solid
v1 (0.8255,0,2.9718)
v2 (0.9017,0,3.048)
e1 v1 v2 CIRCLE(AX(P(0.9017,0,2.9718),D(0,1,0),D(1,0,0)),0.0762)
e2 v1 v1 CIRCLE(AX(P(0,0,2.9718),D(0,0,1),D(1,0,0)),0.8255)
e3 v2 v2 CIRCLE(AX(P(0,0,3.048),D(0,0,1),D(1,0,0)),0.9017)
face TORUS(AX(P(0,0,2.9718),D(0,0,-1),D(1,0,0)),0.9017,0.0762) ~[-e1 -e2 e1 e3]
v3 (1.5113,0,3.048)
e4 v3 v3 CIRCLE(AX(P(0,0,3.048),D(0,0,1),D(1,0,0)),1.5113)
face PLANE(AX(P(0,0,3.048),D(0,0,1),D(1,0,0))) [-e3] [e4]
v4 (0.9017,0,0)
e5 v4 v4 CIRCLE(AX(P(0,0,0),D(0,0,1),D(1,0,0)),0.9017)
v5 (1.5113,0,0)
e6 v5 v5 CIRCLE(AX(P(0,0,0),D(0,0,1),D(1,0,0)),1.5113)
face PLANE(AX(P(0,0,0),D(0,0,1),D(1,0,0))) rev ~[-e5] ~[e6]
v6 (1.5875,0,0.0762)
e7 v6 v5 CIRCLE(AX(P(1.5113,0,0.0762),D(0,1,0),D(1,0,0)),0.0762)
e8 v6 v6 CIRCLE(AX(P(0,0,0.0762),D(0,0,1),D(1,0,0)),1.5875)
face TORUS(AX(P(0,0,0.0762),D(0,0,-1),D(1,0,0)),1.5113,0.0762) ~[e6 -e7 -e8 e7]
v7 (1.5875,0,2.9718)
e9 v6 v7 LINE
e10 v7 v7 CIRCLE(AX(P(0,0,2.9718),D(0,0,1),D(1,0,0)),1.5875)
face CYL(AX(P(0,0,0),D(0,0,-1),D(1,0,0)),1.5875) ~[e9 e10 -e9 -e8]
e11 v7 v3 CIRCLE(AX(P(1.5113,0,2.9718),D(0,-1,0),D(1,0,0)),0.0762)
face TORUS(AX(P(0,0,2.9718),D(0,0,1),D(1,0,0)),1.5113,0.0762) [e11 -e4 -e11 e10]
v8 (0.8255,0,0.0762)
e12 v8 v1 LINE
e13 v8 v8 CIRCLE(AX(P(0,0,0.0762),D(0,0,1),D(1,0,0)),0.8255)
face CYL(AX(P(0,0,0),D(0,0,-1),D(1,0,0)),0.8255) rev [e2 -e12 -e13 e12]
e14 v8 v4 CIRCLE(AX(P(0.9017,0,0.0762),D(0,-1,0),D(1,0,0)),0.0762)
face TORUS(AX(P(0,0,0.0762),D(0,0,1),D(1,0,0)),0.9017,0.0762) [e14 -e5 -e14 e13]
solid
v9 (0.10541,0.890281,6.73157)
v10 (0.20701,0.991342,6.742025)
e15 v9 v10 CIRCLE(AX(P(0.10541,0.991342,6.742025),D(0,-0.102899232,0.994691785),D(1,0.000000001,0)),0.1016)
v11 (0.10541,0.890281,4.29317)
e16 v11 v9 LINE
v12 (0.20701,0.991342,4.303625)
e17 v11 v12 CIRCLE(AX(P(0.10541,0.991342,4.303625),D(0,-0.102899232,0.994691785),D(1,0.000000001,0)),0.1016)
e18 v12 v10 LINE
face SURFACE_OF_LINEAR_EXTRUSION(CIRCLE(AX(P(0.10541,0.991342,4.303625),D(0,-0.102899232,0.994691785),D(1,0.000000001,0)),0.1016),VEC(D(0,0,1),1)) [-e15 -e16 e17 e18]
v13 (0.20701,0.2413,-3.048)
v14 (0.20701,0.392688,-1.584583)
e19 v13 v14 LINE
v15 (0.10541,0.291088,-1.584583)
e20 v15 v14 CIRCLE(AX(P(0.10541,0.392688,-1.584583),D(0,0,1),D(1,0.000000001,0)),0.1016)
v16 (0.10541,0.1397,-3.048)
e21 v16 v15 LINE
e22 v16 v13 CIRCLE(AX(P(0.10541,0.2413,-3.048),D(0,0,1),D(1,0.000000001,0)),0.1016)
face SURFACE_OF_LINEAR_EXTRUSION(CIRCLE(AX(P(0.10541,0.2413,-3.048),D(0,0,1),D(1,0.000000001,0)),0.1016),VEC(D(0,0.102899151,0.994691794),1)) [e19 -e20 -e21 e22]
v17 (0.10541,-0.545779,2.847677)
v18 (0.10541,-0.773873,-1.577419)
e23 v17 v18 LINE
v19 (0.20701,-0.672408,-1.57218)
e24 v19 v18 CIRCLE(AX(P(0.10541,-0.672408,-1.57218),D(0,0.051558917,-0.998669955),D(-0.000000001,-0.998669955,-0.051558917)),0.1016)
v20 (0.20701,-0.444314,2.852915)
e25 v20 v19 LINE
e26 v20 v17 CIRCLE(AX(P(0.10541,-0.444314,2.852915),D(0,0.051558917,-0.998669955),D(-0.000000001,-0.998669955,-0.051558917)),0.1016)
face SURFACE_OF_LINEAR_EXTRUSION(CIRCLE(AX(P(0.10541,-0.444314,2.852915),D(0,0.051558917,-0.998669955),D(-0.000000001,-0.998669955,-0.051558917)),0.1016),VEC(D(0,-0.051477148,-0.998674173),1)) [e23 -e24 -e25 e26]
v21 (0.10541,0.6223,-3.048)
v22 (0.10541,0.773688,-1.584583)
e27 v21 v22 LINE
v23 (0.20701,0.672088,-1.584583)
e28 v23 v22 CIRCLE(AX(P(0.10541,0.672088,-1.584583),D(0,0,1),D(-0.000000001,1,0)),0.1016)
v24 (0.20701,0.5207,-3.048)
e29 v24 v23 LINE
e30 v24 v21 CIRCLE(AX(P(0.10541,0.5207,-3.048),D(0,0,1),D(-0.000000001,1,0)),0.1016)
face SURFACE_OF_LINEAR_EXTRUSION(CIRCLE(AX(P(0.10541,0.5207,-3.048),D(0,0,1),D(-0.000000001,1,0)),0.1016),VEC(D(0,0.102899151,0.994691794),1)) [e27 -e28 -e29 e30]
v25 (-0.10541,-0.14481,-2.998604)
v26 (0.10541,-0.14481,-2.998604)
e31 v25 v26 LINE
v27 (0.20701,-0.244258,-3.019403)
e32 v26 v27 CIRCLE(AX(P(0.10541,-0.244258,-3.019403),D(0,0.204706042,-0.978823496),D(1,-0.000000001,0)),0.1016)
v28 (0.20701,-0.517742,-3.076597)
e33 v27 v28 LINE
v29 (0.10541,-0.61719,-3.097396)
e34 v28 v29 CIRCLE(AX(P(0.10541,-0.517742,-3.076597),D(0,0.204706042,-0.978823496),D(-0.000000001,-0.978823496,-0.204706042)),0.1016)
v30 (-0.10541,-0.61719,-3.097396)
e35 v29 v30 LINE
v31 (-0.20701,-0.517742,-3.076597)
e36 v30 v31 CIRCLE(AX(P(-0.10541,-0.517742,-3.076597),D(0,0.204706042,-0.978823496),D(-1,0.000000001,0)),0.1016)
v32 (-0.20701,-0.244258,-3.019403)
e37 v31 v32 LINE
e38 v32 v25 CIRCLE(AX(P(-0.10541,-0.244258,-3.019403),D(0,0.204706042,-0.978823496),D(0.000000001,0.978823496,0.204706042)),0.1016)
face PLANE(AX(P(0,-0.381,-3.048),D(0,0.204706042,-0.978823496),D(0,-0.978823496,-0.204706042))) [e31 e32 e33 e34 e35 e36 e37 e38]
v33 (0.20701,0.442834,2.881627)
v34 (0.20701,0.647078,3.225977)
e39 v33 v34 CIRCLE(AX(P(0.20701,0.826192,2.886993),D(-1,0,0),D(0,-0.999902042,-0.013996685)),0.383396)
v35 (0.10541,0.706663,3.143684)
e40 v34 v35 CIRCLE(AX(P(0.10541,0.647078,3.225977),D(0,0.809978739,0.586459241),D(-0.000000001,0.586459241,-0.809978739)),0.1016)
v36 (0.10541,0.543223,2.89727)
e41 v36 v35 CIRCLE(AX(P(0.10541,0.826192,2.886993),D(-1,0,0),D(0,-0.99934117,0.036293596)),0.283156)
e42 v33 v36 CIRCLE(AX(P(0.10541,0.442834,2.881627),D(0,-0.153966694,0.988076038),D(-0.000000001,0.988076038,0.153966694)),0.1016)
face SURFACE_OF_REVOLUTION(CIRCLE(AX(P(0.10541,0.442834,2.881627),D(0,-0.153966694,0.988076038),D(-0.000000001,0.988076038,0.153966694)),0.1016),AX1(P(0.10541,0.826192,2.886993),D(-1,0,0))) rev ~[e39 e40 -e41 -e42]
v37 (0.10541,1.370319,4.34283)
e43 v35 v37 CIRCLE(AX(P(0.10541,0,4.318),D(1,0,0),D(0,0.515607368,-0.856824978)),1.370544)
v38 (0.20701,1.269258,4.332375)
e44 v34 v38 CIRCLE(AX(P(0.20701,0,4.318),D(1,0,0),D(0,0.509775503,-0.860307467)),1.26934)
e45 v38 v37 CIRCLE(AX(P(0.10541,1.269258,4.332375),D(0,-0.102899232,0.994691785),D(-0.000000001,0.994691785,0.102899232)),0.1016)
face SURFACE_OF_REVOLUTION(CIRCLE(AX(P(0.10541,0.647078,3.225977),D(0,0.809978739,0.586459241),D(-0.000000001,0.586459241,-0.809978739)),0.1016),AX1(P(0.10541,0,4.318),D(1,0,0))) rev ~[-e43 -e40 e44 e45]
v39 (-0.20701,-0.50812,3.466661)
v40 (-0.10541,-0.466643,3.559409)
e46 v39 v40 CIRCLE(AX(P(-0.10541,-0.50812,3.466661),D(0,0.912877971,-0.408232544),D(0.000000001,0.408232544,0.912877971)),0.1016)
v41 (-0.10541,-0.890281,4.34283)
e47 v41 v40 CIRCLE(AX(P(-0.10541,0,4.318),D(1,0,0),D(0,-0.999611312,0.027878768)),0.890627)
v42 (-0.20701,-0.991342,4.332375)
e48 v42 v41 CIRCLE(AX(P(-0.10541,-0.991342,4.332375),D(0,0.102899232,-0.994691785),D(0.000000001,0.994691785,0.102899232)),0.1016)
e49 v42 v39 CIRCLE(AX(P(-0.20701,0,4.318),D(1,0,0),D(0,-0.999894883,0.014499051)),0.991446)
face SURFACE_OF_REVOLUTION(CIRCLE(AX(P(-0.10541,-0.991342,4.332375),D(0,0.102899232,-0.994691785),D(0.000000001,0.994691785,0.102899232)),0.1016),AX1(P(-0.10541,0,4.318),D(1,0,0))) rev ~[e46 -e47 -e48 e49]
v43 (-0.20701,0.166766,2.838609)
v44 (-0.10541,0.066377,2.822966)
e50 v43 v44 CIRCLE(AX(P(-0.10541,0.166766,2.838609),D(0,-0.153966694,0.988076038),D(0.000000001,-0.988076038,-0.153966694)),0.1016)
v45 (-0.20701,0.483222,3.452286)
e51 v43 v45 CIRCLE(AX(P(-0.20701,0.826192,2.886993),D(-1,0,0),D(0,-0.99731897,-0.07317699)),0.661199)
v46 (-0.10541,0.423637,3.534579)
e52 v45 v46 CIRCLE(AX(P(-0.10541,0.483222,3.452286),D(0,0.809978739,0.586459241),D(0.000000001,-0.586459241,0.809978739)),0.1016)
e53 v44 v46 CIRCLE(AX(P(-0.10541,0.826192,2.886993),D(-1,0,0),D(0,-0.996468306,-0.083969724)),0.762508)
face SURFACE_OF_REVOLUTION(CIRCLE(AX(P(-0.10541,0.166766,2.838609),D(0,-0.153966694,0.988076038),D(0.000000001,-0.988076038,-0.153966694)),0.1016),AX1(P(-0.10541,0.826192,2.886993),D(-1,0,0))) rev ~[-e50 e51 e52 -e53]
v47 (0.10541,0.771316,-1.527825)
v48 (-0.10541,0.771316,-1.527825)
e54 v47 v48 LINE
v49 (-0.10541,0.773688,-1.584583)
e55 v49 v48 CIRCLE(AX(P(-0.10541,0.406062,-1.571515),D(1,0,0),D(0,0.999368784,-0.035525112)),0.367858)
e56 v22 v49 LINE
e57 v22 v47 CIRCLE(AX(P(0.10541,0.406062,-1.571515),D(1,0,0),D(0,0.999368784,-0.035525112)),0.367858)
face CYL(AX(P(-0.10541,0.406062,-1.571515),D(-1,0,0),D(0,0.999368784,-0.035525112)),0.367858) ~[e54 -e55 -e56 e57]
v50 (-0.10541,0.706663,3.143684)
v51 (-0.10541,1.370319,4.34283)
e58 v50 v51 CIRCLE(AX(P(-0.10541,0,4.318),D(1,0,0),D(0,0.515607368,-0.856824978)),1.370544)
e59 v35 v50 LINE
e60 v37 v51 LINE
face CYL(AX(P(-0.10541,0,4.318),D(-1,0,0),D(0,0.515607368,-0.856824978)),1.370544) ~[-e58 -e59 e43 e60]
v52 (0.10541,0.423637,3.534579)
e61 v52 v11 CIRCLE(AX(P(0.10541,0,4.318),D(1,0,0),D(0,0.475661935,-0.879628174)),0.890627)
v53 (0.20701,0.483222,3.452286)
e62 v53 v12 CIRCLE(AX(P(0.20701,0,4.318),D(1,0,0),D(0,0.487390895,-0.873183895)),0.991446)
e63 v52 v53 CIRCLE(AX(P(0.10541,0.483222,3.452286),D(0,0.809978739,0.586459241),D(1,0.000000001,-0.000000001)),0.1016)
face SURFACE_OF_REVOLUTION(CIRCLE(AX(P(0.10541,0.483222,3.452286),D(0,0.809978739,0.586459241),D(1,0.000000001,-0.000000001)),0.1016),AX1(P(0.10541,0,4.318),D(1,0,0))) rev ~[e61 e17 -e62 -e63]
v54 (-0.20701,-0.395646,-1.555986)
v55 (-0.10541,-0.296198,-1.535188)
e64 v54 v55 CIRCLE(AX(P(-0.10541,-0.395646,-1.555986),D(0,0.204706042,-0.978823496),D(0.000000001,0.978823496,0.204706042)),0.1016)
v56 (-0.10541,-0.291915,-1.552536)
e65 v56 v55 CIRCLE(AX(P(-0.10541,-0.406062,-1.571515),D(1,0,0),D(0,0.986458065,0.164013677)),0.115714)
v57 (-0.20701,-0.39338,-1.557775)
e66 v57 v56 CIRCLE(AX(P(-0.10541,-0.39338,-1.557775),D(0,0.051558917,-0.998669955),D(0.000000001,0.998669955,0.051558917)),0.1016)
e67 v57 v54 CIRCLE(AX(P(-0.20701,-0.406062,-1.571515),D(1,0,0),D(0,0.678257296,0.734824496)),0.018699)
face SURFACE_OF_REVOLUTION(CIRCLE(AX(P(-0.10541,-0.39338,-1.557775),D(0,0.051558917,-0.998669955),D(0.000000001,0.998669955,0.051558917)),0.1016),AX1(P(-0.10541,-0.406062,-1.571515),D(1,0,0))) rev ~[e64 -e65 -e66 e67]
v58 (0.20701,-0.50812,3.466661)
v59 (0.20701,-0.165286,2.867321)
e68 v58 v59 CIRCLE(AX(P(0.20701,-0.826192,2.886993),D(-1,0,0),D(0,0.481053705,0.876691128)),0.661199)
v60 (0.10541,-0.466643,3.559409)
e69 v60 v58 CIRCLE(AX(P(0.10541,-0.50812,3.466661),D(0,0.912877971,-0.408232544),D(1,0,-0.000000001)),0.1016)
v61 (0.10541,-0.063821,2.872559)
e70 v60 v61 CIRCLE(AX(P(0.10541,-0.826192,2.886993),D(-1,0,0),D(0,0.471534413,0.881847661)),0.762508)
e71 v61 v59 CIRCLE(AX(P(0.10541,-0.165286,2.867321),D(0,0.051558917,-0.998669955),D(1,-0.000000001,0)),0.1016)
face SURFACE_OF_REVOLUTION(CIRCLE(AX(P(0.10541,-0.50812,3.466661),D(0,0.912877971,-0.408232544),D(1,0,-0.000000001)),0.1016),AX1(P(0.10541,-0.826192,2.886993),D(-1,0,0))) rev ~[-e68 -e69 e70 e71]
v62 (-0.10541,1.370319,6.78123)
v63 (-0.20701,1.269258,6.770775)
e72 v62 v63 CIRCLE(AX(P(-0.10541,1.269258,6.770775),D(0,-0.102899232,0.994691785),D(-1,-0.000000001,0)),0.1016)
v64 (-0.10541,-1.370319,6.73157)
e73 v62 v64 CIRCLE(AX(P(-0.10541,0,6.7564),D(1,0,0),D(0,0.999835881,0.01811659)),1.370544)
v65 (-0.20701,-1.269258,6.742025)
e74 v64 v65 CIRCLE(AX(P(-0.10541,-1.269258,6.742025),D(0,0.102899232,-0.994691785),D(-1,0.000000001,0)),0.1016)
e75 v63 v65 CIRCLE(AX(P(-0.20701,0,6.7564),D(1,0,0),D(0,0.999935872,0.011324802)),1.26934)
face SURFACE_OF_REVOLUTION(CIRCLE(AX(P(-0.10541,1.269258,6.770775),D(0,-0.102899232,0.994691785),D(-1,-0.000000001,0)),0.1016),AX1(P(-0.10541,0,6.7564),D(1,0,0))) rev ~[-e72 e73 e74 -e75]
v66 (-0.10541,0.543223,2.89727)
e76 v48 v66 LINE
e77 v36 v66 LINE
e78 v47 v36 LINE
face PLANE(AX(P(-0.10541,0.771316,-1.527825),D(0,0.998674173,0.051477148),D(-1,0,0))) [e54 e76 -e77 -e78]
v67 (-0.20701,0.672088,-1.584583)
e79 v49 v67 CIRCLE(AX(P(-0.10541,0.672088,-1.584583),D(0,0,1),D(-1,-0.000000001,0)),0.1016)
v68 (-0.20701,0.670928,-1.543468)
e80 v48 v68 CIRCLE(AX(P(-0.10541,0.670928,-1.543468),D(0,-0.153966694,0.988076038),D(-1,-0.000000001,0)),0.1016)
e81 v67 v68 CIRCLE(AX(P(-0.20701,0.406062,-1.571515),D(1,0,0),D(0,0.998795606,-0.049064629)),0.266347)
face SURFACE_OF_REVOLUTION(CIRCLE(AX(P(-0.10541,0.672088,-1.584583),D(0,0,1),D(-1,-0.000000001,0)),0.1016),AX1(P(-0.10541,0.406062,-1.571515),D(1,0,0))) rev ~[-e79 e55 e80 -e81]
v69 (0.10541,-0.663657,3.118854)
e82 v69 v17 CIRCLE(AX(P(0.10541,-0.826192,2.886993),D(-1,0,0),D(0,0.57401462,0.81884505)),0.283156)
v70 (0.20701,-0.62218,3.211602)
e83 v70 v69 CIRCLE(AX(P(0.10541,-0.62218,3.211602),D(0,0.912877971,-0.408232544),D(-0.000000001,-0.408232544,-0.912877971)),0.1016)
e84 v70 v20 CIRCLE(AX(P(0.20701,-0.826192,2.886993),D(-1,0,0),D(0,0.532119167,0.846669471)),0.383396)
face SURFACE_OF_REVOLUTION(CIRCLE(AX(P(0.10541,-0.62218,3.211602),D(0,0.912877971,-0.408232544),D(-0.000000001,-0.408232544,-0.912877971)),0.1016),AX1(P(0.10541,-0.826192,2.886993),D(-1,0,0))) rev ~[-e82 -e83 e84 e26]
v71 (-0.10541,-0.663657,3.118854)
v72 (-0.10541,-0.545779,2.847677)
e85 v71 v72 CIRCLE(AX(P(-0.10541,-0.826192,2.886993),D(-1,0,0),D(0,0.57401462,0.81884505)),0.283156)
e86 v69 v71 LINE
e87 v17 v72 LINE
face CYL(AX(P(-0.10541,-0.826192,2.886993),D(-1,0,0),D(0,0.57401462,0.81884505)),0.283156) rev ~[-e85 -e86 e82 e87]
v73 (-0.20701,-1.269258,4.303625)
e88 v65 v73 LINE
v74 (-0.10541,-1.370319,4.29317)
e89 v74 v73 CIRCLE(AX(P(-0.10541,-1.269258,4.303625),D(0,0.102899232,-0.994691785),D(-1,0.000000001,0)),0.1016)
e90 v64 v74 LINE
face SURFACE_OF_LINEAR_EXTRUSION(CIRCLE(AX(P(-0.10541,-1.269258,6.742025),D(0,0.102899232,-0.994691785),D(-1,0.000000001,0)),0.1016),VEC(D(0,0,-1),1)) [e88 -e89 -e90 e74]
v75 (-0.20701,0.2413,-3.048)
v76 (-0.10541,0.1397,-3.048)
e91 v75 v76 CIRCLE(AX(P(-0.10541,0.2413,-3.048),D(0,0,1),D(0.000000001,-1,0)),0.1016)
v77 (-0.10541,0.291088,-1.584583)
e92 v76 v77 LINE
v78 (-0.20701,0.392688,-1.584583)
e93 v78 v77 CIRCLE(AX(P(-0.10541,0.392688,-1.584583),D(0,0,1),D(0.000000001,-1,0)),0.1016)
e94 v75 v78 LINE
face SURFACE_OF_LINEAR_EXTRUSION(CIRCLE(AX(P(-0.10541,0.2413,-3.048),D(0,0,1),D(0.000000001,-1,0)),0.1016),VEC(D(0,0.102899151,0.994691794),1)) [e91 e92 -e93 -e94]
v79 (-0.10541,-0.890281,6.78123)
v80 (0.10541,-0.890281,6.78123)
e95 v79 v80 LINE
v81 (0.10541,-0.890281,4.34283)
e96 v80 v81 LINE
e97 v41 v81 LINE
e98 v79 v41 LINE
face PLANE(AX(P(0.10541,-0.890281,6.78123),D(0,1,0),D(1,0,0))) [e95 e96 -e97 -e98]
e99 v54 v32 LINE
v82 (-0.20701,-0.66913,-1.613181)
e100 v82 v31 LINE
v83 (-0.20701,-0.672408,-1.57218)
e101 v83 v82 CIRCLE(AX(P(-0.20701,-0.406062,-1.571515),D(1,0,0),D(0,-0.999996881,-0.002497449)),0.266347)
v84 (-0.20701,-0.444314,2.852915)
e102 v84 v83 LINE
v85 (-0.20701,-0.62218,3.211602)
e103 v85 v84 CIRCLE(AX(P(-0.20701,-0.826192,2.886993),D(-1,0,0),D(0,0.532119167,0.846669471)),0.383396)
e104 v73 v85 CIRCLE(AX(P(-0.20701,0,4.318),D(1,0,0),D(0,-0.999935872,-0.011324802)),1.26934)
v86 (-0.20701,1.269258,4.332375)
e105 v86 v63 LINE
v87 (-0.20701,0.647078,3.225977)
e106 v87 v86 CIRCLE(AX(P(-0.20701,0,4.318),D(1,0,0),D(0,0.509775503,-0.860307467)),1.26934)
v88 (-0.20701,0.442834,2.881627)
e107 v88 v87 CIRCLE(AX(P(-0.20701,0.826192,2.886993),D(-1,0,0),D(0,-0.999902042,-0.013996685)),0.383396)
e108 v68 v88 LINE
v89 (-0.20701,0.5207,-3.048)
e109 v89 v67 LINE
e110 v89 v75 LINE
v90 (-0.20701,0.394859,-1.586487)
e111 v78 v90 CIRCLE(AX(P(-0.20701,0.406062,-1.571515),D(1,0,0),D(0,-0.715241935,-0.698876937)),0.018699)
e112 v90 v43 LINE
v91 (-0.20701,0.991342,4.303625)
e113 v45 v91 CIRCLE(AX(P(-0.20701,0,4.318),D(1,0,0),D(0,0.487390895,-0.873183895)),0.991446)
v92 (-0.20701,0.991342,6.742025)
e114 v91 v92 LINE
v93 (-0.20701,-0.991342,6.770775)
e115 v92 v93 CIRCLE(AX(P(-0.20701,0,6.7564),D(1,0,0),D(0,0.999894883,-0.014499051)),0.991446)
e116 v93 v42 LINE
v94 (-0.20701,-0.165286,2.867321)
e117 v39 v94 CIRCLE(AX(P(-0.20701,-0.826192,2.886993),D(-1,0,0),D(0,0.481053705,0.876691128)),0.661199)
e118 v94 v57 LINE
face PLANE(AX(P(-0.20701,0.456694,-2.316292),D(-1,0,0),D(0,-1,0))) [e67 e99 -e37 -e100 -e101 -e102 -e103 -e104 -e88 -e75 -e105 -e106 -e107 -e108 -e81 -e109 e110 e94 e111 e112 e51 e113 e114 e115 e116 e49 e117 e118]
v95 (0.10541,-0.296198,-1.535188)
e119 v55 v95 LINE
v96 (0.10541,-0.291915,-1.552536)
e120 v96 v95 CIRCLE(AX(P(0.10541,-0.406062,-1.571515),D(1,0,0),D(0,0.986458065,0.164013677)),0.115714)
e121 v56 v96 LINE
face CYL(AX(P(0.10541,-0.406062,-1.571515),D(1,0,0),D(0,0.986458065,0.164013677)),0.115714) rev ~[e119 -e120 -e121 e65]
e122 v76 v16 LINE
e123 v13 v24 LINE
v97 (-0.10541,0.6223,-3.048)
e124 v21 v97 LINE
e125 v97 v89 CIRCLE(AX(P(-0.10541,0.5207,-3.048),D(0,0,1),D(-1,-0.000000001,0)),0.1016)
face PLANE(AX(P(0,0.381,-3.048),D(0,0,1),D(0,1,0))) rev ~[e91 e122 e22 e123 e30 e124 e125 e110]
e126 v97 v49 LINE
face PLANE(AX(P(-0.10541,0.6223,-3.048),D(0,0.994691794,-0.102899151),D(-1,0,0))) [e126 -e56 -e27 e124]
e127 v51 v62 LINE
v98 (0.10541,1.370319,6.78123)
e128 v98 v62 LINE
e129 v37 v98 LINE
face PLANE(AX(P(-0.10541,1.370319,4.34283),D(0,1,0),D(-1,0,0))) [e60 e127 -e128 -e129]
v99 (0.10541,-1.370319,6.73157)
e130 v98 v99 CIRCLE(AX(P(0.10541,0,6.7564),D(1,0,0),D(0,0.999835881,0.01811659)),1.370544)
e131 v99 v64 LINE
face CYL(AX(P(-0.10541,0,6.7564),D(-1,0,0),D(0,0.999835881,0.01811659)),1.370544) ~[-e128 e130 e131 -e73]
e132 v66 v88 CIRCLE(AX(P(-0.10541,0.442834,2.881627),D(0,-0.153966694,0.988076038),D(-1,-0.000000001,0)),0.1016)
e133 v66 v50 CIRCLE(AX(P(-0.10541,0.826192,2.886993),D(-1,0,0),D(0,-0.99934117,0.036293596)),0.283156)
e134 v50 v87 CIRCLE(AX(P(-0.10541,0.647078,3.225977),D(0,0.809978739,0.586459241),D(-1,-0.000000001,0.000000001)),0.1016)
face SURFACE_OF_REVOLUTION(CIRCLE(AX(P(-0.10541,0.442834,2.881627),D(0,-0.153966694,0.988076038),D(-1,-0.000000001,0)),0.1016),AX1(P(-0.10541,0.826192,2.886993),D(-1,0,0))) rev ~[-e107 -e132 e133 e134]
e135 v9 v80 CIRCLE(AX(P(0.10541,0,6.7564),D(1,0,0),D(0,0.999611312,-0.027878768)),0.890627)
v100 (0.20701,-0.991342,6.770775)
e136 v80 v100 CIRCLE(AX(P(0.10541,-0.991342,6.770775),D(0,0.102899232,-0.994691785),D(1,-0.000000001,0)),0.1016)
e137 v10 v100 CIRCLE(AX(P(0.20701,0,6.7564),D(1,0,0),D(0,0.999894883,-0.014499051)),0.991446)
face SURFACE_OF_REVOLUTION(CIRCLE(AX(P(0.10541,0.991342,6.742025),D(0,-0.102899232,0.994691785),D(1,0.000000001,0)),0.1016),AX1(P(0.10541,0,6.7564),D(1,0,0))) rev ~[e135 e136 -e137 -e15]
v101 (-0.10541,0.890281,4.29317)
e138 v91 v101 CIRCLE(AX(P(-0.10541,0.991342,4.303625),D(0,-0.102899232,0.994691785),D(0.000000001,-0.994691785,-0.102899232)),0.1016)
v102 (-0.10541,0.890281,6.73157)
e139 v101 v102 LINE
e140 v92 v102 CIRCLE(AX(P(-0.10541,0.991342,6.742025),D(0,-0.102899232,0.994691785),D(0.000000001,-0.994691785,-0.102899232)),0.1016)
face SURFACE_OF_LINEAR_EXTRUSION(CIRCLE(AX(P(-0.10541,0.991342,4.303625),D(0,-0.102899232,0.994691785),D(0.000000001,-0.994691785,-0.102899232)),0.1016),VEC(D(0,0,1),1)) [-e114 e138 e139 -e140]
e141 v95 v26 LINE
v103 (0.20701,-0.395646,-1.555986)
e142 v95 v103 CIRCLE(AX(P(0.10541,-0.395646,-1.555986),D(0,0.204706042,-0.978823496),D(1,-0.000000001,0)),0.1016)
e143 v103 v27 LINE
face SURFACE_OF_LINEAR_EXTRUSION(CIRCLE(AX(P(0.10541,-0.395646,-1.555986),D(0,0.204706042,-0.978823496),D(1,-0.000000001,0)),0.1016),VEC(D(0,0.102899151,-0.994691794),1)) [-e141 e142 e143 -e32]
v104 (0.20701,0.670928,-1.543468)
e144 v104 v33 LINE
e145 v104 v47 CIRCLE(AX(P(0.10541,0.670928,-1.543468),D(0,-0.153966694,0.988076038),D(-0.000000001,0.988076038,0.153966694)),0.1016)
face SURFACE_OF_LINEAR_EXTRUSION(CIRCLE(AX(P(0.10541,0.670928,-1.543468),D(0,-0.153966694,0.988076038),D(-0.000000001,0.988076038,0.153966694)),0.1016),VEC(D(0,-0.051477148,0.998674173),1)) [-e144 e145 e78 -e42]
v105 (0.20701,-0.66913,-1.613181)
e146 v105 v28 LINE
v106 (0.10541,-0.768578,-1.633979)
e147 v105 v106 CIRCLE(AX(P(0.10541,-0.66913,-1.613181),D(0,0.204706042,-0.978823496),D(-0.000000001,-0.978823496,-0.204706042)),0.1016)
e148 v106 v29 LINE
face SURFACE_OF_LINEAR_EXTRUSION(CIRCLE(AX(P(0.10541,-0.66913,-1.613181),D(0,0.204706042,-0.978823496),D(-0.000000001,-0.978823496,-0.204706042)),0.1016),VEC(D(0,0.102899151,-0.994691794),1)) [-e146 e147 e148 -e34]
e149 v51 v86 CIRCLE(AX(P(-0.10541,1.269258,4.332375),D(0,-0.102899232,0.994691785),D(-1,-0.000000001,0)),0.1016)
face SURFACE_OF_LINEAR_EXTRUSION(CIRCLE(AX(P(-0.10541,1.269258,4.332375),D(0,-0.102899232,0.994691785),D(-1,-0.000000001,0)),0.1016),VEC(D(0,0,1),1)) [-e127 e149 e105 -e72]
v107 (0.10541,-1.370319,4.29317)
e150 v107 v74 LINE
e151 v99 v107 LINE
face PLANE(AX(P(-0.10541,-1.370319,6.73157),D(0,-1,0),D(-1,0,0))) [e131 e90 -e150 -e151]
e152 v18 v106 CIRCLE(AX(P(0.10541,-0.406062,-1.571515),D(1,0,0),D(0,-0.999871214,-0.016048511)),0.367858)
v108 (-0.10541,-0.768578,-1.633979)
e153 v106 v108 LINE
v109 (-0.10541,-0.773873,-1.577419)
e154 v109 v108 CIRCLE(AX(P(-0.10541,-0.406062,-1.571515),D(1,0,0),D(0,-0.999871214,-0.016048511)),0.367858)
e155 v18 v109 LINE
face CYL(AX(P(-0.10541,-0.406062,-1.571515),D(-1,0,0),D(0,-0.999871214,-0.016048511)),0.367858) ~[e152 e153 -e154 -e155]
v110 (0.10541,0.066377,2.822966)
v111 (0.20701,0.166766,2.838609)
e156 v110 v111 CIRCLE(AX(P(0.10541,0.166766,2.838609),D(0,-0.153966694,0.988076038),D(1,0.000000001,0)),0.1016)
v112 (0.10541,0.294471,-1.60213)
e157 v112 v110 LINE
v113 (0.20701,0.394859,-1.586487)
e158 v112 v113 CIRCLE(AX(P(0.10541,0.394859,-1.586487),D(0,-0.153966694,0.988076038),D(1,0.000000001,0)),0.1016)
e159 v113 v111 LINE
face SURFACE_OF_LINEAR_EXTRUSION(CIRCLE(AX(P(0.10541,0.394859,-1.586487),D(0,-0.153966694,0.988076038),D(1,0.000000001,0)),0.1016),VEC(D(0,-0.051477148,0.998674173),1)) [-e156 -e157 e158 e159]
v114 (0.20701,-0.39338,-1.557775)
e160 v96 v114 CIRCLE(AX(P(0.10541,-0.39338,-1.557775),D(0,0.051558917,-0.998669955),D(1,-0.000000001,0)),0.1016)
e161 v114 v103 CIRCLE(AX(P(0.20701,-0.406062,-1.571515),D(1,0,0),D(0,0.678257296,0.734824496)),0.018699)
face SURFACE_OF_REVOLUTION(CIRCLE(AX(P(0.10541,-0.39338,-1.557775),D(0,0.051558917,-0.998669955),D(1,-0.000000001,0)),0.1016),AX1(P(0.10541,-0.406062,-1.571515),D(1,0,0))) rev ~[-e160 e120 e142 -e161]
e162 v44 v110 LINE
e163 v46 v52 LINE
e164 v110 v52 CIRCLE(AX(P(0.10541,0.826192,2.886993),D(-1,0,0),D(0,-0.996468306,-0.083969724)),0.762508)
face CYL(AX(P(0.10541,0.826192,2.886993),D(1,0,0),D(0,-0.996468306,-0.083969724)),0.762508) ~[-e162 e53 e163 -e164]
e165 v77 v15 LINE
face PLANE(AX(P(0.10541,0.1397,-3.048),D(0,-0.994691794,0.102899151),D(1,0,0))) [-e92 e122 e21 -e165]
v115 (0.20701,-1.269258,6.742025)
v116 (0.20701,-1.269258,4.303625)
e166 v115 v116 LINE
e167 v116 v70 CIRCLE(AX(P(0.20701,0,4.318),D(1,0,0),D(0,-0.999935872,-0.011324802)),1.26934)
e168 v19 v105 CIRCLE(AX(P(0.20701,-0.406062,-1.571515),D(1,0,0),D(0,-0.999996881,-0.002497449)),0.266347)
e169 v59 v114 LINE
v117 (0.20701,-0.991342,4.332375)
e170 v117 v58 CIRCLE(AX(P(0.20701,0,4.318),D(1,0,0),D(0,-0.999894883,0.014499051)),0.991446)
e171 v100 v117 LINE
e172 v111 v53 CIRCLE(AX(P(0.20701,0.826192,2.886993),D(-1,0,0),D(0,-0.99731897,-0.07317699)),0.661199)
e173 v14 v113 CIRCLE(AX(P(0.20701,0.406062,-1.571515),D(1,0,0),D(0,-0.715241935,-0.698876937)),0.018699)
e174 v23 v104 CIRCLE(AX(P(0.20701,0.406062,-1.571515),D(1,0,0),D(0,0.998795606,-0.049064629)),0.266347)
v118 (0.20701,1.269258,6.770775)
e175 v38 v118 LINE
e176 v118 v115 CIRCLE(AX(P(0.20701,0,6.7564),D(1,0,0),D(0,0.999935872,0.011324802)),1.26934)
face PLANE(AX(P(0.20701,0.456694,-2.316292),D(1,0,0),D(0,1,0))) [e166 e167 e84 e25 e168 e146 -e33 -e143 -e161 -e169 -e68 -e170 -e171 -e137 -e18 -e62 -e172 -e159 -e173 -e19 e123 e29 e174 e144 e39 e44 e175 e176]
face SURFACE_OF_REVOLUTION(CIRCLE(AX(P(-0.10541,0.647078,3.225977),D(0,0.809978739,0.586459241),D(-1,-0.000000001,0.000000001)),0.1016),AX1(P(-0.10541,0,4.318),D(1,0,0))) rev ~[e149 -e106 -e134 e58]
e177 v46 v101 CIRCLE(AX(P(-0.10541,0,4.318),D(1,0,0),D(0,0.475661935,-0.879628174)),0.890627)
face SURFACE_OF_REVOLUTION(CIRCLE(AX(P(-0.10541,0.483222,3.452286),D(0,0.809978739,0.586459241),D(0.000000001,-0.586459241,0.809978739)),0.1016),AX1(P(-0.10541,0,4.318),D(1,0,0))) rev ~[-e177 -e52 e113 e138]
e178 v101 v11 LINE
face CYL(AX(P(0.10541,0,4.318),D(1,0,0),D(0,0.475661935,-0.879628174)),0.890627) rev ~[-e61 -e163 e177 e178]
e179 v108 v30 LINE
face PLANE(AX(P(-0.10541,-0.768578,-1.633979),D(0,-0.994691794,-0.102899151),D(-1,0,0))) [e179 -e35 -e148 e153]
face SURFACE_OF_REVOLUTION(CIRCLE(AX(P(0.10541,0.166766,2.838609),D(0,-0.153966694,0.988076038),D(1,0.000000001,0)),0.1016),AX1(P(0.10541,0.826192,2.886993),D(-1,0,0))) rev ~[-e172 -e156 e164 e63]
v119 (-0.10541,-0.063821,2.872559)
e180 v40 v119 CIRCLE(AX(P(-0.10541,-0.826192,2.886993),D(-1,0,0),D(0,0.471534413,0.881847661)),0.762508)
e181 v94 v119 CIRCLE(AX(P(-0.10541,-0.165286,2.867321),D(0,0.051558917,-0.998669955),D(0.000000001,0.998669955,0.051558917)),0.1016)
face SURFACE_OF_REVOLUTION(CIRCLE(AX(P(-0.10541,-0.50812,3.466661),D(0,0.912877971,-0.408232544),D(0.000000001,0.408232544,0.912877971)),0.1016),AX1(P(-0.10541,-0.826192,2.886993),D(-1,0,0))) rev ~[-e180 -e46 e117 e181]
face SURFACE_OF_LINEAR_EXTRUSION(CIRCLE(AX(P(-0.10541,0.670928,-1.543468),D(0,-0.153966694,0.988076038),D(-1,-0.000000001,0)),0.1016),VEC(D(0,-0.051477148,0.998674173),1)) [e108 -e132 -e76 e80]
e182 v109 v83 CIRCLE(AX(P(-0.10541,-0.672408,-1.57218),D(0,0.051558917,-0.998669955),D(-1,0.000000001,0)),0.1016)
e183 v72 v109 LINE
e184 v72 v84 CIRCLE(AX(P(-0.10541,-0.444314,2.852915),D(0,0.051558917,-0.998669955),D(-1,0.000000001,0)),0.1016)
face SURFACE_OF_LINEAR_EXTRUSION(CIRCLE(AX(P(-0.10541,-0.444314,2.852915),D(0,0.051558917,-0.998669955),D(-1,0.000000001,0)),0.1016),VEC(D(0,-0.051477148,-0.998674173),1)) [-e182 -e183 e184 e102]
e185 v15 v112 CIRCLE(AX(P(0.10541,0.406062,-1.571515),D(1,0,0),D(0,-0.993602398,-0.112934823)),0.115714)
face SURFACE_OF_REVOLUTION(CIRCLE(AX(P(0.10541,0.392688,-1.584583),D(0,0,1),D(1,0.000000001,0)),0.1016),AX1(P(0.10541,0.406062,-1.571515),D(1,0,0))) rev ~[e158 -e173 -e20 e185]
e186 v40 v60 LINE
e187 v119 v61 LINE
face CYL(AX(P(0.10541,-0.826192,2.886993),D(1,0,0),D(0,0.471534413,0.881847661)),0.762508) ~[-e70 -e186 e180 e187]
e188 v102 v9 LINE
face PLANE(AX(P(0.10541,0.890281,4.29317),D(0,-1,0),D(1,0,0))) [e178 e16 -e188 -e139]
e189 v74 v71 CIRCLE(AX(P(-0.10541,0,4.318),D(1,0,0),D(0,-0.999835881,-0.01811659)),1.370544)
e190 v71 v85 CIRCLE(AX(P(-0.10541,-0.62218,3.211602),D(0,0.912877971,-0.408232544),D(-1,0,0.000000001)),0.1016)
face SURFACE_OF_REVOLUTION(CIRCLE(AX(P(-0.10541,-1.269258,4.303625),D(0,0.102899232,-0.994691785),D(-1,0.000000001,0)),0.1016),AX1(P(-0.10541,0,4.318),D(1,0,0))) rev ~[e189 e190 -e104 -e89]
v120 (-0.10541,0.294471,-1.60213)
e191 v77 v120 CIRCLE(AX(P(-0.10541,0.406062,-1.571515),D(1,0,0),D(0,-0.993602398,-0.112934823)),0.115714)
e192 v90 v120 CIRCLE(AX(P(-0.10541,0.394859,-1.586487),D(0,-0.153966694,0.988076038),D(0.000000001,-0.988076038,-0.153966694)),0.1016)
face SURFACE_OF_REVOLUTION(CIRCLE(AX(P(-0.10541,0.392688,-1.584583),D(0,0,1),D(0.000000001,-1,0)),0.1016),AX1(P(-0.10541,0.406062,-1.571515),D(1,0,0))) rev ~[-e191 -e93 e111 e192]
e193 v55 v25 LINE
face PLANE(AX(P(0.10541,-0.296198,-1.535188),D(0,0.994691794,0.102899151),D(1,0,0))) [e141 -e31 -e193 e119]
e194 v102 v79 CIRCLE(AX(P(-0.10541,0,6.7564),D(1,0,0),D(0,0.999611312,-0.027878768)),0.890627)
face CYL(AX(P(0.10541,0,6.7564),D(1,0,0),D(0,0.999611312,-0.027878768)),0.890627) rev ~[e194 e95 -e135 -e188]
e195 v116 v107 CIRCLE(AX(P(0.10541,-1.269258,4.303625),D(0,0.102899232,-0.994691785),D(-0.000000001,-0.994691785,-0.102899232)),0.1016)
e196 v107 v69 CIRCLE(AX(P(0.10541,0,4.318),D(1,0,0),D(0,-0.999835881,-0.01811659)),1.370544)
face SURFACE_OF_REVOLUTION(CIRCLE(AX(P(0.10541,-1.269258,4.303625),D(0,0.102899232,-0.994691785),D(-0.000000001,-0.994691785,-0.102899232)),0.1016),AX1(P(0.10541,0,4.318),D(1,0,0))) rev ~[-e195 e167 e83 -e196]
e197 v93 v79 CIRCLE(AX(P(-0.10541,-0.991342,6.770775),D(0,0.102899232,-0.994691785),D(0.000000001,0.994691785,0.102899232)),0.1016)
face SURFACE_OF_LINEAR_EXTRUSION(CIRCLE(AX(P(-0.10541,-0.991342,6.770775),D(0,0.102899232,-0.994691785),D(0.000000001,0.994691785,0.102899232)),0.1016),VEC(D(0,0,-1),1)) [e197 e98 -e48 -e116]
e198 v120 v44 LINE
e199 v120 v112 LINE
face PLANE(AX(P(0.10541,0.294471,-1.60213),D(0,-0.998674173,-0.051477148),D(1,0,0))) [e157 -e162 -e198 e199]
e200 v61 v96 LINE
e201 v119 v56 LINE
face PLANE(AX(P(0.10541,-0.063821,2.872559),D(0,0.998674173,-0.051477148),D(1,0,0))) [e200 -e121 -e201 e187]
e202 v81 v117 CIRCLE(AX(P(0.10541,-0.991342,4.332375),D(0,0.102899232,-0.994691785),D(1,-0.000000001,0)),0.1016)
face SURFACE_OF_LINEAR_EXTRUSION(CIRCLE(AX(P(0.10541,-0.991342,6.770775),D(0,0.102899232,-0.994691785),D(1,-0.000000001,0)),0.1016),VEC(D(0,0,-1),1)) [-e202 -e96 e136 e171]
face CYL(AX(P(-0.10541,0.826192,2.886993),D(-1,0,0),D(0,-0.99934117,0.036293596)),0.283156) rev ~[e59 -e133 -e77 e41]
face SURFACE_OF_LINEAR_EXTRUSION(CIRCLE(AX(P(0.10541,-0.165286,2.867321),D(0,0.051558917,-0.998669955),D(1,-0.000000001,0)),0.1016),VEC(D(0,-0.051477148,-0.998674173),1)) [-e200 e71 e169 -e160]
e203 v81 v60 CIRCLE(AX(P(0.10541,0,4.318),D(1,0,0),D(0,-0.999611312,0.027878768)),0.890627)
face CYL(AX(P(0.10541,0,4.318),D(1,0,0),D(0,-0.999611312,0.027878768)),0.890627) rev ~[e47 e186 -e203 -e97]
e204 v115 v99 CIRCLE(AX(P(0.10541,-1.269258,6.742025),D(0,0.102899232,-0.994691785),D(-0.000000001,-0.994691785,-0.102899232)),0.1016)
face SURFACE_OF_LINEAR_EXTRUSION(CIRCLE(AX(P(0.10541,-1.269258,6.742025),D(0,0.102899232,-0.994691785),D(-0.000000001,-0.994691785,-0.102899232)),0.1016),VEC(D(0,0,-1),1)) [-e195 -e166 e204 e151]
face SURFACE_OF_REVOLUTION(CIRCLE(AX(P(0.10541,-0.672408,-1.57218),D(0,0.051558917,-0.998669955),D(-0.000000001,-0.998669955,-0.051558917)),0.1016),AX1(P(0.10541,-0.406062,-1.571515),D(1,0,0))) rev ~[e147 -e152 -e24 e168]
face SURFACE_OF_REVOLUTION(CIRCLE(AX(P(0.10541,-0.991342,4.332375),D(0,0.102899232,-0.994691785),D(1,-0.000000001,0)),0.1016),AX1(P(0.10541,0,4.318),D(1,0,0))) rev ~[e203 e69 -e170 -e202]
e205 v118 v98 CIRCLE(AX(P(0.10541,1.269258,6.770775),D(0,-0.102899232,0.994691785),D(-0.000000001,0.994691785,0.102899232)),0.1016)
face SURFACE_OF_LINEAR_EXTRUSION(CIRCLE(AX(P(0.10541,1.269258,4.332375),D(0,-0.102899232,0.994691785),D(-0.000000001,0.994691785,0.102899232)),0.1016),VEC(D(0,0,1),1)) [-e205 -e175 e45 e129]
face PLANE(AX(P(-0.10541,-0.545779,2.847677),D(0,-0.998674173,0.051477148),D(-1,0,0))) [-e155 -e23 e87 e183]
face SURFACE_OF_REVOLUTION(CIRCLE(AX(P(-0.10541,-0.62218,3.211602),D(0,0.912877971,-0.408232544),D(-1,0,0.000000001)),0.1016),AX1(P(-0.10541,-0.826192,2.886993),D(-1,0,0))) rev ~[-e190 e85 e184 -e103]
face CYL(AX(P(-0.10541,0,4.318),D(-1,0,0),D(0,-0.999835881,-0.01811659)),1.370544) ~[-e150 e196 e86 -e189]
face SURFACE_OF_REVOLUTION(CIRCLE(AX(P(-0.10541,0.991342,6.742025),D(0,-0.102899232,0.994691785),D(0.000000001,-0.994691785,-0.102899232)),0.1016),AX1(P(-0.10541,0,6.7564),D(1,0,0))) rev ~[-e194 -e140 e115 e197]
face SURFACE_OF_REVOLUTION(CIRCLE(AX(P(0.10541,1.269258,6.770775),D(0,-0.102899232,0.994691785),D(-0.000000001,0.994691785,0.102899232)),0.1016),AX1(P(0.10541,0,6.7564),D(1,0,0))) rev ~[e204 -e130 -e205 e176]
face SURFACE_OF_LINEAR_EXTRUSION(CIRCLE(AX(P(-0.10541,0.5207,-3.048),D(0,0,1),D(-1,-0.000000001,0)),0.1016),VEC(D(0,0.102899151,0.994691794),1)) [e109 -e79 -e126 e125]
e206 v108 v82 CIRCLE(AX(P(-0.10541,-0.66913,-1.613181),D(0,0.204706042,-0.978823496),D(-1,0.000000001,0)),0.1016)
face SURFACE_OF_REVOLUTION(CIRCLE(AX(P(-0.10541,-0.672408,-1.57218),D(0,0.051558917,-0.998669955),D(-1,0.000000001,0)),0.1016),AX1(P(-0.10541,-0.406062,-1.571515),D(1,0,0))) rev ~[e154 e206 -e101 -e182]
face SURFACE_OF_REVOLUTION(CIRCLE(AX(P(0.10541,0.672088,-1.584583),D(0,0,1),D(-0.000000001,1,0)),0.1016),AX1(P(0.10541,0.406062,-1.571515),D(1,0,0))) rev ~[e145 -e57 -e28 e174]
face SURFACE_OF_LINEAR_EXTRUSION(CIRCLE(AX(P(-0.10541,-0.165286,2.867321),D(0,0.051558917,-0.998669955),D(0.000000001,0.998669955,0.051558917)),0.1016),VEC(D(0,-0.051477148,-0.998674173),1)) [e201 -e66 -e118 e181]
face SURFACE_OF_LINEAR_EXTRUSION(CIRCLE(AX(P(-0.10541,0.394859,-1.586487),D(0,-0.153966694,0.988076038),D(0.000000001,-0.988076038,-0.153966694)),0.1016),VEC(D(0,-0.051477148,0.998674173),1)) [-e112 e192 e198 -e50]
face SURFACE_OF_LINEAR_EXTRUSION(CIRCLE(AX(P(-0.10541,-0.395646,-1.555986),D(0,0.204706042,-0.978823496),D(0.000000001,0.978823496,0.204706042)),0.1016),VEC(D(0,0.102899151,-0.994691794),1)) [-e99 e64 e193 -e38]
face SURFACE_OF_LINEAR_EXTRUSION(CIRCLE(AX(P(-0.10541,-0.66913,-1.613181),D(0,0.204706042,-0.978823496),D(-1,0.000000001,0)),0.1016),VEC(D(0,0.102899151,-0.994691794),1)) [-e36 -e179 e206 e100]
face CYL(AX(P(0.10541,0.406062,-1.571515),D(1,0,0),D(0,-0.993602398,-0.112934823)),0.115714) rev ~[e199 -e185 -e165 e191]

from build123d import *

# Parameters (mm, degrees)
SKETCH1_R          = 1.5875
SKETCH1_R_2        = 0.8255
PLASTIC_RING_DEPTH = 3.048
FILLET1_R          = 0.0762


with BuildPart() as part:
    # Sketch1 → Plastic-Ring (new body)
    with BuildSketch(Plane.XY):
        Circle(SKETCH1_R)
        Circle(SKETCH1_R_2, mode=Mode.SUBTRACT)
    extrude(amount=PLASTIC_RING_DEPTH)

    # Fillet1
    fillet1_edges = [part.edges().sort_by_distance(p)[0] for p in [
        (-1.5875, 0, 0),
        (-1.5875, 0, 3.048),
        (-0.8255, 0, 0),
        (-0.8255, 0, 3.048),
    ]]
    fillet(fillet1_edges, radius=FILLET1_R)


with BuildPart() as body_2:
    # Sweep3: sweep along a path in wire-bend
    with BuildLine(Plane(origin=(0, 0, 0), x_dir=(0, 0, -1), z_dir=(1, 0, 0))) as sweep3_path:
        Line((3.048, 0.381), (1.584583311, 0.532387933))
        ThreePointArc((1.584583311, 0.532387933), (1.574790193, 0.53301984), (1.564977521, 0.532893696))
        Line((1.564977521, 0.532893696), (-2.860117728, 0.3048))
        ThreePointArc((-2.860117728, 0.3048), (-3.136307543, 0.367482659), (-3.339131486, 0.56515))
        ThreePointArc((-3.339131486, 0.56515), (-3.75285, 0.978868514), (-4.318, 1.1303))
        Line((-4.318, 1.1303), (-6.7564, 1.1303))
        ThreePointArc((-6.7564, 1.1303), (-7.8867, 0), (-6.7564, -1.1303))
        Line((-6.7564, -1.1303), (-4.318, -1.1303))
        ThreePointArc((-4.318, -1.1303), (-3.75285, -0.978868514), (-3.339131486, -0.56515))
        ThreePointArc((-3.339131486, -0.56515), (-3.136307543, -0.367482659), (-2.860117728, -0.3048))
        Line((-2.860117728, -0.3048), (1.564977521, -0.532893696))
        ThreePointArc((1.564977521, -0.532893696), (1.574790193, -0.53301984), (1.584583311, -0.532387933))
        Line((1.584583311, -0.532387933), (3.048, -0.381))
    # wire-profile → Sweep3 (sweep)
    with BuildSketch(Plane.XY.offset(-3.048)):
        with BuildLine():
            Line((-0.10541, 0.6223), (0.10541, 0.6223))
            ThreePointArc((0.10541, 0.6223), (0.177252049, 0.592542049), (0.20701, 0.5207))
            Line((0.20701, 0.5207), (0.20701, 0.2413))
            ThreePointArc((0.20701, 0.2413), (0.177252049, 0.169457951), (0.10541, 0.1397))
            Line((0.10541, 0.1397), (-0.10541, 0.1397))
            ThreePointArc((-0.10541, 0.1397), (-0.177252049, 0.169457951), (-0.20701, 0.2413))
            Line((-0.20701, 0.2413), (-0.20701, 0.5207))
            ThreePointArc((-0.20701, 0.5207), (-0.177252049, 0.592542049), (-0.10541, 0.6223))
        make_face()
    sweep(path=sweep3_path.line)


solid = Compound([part.part, body_2.part])
